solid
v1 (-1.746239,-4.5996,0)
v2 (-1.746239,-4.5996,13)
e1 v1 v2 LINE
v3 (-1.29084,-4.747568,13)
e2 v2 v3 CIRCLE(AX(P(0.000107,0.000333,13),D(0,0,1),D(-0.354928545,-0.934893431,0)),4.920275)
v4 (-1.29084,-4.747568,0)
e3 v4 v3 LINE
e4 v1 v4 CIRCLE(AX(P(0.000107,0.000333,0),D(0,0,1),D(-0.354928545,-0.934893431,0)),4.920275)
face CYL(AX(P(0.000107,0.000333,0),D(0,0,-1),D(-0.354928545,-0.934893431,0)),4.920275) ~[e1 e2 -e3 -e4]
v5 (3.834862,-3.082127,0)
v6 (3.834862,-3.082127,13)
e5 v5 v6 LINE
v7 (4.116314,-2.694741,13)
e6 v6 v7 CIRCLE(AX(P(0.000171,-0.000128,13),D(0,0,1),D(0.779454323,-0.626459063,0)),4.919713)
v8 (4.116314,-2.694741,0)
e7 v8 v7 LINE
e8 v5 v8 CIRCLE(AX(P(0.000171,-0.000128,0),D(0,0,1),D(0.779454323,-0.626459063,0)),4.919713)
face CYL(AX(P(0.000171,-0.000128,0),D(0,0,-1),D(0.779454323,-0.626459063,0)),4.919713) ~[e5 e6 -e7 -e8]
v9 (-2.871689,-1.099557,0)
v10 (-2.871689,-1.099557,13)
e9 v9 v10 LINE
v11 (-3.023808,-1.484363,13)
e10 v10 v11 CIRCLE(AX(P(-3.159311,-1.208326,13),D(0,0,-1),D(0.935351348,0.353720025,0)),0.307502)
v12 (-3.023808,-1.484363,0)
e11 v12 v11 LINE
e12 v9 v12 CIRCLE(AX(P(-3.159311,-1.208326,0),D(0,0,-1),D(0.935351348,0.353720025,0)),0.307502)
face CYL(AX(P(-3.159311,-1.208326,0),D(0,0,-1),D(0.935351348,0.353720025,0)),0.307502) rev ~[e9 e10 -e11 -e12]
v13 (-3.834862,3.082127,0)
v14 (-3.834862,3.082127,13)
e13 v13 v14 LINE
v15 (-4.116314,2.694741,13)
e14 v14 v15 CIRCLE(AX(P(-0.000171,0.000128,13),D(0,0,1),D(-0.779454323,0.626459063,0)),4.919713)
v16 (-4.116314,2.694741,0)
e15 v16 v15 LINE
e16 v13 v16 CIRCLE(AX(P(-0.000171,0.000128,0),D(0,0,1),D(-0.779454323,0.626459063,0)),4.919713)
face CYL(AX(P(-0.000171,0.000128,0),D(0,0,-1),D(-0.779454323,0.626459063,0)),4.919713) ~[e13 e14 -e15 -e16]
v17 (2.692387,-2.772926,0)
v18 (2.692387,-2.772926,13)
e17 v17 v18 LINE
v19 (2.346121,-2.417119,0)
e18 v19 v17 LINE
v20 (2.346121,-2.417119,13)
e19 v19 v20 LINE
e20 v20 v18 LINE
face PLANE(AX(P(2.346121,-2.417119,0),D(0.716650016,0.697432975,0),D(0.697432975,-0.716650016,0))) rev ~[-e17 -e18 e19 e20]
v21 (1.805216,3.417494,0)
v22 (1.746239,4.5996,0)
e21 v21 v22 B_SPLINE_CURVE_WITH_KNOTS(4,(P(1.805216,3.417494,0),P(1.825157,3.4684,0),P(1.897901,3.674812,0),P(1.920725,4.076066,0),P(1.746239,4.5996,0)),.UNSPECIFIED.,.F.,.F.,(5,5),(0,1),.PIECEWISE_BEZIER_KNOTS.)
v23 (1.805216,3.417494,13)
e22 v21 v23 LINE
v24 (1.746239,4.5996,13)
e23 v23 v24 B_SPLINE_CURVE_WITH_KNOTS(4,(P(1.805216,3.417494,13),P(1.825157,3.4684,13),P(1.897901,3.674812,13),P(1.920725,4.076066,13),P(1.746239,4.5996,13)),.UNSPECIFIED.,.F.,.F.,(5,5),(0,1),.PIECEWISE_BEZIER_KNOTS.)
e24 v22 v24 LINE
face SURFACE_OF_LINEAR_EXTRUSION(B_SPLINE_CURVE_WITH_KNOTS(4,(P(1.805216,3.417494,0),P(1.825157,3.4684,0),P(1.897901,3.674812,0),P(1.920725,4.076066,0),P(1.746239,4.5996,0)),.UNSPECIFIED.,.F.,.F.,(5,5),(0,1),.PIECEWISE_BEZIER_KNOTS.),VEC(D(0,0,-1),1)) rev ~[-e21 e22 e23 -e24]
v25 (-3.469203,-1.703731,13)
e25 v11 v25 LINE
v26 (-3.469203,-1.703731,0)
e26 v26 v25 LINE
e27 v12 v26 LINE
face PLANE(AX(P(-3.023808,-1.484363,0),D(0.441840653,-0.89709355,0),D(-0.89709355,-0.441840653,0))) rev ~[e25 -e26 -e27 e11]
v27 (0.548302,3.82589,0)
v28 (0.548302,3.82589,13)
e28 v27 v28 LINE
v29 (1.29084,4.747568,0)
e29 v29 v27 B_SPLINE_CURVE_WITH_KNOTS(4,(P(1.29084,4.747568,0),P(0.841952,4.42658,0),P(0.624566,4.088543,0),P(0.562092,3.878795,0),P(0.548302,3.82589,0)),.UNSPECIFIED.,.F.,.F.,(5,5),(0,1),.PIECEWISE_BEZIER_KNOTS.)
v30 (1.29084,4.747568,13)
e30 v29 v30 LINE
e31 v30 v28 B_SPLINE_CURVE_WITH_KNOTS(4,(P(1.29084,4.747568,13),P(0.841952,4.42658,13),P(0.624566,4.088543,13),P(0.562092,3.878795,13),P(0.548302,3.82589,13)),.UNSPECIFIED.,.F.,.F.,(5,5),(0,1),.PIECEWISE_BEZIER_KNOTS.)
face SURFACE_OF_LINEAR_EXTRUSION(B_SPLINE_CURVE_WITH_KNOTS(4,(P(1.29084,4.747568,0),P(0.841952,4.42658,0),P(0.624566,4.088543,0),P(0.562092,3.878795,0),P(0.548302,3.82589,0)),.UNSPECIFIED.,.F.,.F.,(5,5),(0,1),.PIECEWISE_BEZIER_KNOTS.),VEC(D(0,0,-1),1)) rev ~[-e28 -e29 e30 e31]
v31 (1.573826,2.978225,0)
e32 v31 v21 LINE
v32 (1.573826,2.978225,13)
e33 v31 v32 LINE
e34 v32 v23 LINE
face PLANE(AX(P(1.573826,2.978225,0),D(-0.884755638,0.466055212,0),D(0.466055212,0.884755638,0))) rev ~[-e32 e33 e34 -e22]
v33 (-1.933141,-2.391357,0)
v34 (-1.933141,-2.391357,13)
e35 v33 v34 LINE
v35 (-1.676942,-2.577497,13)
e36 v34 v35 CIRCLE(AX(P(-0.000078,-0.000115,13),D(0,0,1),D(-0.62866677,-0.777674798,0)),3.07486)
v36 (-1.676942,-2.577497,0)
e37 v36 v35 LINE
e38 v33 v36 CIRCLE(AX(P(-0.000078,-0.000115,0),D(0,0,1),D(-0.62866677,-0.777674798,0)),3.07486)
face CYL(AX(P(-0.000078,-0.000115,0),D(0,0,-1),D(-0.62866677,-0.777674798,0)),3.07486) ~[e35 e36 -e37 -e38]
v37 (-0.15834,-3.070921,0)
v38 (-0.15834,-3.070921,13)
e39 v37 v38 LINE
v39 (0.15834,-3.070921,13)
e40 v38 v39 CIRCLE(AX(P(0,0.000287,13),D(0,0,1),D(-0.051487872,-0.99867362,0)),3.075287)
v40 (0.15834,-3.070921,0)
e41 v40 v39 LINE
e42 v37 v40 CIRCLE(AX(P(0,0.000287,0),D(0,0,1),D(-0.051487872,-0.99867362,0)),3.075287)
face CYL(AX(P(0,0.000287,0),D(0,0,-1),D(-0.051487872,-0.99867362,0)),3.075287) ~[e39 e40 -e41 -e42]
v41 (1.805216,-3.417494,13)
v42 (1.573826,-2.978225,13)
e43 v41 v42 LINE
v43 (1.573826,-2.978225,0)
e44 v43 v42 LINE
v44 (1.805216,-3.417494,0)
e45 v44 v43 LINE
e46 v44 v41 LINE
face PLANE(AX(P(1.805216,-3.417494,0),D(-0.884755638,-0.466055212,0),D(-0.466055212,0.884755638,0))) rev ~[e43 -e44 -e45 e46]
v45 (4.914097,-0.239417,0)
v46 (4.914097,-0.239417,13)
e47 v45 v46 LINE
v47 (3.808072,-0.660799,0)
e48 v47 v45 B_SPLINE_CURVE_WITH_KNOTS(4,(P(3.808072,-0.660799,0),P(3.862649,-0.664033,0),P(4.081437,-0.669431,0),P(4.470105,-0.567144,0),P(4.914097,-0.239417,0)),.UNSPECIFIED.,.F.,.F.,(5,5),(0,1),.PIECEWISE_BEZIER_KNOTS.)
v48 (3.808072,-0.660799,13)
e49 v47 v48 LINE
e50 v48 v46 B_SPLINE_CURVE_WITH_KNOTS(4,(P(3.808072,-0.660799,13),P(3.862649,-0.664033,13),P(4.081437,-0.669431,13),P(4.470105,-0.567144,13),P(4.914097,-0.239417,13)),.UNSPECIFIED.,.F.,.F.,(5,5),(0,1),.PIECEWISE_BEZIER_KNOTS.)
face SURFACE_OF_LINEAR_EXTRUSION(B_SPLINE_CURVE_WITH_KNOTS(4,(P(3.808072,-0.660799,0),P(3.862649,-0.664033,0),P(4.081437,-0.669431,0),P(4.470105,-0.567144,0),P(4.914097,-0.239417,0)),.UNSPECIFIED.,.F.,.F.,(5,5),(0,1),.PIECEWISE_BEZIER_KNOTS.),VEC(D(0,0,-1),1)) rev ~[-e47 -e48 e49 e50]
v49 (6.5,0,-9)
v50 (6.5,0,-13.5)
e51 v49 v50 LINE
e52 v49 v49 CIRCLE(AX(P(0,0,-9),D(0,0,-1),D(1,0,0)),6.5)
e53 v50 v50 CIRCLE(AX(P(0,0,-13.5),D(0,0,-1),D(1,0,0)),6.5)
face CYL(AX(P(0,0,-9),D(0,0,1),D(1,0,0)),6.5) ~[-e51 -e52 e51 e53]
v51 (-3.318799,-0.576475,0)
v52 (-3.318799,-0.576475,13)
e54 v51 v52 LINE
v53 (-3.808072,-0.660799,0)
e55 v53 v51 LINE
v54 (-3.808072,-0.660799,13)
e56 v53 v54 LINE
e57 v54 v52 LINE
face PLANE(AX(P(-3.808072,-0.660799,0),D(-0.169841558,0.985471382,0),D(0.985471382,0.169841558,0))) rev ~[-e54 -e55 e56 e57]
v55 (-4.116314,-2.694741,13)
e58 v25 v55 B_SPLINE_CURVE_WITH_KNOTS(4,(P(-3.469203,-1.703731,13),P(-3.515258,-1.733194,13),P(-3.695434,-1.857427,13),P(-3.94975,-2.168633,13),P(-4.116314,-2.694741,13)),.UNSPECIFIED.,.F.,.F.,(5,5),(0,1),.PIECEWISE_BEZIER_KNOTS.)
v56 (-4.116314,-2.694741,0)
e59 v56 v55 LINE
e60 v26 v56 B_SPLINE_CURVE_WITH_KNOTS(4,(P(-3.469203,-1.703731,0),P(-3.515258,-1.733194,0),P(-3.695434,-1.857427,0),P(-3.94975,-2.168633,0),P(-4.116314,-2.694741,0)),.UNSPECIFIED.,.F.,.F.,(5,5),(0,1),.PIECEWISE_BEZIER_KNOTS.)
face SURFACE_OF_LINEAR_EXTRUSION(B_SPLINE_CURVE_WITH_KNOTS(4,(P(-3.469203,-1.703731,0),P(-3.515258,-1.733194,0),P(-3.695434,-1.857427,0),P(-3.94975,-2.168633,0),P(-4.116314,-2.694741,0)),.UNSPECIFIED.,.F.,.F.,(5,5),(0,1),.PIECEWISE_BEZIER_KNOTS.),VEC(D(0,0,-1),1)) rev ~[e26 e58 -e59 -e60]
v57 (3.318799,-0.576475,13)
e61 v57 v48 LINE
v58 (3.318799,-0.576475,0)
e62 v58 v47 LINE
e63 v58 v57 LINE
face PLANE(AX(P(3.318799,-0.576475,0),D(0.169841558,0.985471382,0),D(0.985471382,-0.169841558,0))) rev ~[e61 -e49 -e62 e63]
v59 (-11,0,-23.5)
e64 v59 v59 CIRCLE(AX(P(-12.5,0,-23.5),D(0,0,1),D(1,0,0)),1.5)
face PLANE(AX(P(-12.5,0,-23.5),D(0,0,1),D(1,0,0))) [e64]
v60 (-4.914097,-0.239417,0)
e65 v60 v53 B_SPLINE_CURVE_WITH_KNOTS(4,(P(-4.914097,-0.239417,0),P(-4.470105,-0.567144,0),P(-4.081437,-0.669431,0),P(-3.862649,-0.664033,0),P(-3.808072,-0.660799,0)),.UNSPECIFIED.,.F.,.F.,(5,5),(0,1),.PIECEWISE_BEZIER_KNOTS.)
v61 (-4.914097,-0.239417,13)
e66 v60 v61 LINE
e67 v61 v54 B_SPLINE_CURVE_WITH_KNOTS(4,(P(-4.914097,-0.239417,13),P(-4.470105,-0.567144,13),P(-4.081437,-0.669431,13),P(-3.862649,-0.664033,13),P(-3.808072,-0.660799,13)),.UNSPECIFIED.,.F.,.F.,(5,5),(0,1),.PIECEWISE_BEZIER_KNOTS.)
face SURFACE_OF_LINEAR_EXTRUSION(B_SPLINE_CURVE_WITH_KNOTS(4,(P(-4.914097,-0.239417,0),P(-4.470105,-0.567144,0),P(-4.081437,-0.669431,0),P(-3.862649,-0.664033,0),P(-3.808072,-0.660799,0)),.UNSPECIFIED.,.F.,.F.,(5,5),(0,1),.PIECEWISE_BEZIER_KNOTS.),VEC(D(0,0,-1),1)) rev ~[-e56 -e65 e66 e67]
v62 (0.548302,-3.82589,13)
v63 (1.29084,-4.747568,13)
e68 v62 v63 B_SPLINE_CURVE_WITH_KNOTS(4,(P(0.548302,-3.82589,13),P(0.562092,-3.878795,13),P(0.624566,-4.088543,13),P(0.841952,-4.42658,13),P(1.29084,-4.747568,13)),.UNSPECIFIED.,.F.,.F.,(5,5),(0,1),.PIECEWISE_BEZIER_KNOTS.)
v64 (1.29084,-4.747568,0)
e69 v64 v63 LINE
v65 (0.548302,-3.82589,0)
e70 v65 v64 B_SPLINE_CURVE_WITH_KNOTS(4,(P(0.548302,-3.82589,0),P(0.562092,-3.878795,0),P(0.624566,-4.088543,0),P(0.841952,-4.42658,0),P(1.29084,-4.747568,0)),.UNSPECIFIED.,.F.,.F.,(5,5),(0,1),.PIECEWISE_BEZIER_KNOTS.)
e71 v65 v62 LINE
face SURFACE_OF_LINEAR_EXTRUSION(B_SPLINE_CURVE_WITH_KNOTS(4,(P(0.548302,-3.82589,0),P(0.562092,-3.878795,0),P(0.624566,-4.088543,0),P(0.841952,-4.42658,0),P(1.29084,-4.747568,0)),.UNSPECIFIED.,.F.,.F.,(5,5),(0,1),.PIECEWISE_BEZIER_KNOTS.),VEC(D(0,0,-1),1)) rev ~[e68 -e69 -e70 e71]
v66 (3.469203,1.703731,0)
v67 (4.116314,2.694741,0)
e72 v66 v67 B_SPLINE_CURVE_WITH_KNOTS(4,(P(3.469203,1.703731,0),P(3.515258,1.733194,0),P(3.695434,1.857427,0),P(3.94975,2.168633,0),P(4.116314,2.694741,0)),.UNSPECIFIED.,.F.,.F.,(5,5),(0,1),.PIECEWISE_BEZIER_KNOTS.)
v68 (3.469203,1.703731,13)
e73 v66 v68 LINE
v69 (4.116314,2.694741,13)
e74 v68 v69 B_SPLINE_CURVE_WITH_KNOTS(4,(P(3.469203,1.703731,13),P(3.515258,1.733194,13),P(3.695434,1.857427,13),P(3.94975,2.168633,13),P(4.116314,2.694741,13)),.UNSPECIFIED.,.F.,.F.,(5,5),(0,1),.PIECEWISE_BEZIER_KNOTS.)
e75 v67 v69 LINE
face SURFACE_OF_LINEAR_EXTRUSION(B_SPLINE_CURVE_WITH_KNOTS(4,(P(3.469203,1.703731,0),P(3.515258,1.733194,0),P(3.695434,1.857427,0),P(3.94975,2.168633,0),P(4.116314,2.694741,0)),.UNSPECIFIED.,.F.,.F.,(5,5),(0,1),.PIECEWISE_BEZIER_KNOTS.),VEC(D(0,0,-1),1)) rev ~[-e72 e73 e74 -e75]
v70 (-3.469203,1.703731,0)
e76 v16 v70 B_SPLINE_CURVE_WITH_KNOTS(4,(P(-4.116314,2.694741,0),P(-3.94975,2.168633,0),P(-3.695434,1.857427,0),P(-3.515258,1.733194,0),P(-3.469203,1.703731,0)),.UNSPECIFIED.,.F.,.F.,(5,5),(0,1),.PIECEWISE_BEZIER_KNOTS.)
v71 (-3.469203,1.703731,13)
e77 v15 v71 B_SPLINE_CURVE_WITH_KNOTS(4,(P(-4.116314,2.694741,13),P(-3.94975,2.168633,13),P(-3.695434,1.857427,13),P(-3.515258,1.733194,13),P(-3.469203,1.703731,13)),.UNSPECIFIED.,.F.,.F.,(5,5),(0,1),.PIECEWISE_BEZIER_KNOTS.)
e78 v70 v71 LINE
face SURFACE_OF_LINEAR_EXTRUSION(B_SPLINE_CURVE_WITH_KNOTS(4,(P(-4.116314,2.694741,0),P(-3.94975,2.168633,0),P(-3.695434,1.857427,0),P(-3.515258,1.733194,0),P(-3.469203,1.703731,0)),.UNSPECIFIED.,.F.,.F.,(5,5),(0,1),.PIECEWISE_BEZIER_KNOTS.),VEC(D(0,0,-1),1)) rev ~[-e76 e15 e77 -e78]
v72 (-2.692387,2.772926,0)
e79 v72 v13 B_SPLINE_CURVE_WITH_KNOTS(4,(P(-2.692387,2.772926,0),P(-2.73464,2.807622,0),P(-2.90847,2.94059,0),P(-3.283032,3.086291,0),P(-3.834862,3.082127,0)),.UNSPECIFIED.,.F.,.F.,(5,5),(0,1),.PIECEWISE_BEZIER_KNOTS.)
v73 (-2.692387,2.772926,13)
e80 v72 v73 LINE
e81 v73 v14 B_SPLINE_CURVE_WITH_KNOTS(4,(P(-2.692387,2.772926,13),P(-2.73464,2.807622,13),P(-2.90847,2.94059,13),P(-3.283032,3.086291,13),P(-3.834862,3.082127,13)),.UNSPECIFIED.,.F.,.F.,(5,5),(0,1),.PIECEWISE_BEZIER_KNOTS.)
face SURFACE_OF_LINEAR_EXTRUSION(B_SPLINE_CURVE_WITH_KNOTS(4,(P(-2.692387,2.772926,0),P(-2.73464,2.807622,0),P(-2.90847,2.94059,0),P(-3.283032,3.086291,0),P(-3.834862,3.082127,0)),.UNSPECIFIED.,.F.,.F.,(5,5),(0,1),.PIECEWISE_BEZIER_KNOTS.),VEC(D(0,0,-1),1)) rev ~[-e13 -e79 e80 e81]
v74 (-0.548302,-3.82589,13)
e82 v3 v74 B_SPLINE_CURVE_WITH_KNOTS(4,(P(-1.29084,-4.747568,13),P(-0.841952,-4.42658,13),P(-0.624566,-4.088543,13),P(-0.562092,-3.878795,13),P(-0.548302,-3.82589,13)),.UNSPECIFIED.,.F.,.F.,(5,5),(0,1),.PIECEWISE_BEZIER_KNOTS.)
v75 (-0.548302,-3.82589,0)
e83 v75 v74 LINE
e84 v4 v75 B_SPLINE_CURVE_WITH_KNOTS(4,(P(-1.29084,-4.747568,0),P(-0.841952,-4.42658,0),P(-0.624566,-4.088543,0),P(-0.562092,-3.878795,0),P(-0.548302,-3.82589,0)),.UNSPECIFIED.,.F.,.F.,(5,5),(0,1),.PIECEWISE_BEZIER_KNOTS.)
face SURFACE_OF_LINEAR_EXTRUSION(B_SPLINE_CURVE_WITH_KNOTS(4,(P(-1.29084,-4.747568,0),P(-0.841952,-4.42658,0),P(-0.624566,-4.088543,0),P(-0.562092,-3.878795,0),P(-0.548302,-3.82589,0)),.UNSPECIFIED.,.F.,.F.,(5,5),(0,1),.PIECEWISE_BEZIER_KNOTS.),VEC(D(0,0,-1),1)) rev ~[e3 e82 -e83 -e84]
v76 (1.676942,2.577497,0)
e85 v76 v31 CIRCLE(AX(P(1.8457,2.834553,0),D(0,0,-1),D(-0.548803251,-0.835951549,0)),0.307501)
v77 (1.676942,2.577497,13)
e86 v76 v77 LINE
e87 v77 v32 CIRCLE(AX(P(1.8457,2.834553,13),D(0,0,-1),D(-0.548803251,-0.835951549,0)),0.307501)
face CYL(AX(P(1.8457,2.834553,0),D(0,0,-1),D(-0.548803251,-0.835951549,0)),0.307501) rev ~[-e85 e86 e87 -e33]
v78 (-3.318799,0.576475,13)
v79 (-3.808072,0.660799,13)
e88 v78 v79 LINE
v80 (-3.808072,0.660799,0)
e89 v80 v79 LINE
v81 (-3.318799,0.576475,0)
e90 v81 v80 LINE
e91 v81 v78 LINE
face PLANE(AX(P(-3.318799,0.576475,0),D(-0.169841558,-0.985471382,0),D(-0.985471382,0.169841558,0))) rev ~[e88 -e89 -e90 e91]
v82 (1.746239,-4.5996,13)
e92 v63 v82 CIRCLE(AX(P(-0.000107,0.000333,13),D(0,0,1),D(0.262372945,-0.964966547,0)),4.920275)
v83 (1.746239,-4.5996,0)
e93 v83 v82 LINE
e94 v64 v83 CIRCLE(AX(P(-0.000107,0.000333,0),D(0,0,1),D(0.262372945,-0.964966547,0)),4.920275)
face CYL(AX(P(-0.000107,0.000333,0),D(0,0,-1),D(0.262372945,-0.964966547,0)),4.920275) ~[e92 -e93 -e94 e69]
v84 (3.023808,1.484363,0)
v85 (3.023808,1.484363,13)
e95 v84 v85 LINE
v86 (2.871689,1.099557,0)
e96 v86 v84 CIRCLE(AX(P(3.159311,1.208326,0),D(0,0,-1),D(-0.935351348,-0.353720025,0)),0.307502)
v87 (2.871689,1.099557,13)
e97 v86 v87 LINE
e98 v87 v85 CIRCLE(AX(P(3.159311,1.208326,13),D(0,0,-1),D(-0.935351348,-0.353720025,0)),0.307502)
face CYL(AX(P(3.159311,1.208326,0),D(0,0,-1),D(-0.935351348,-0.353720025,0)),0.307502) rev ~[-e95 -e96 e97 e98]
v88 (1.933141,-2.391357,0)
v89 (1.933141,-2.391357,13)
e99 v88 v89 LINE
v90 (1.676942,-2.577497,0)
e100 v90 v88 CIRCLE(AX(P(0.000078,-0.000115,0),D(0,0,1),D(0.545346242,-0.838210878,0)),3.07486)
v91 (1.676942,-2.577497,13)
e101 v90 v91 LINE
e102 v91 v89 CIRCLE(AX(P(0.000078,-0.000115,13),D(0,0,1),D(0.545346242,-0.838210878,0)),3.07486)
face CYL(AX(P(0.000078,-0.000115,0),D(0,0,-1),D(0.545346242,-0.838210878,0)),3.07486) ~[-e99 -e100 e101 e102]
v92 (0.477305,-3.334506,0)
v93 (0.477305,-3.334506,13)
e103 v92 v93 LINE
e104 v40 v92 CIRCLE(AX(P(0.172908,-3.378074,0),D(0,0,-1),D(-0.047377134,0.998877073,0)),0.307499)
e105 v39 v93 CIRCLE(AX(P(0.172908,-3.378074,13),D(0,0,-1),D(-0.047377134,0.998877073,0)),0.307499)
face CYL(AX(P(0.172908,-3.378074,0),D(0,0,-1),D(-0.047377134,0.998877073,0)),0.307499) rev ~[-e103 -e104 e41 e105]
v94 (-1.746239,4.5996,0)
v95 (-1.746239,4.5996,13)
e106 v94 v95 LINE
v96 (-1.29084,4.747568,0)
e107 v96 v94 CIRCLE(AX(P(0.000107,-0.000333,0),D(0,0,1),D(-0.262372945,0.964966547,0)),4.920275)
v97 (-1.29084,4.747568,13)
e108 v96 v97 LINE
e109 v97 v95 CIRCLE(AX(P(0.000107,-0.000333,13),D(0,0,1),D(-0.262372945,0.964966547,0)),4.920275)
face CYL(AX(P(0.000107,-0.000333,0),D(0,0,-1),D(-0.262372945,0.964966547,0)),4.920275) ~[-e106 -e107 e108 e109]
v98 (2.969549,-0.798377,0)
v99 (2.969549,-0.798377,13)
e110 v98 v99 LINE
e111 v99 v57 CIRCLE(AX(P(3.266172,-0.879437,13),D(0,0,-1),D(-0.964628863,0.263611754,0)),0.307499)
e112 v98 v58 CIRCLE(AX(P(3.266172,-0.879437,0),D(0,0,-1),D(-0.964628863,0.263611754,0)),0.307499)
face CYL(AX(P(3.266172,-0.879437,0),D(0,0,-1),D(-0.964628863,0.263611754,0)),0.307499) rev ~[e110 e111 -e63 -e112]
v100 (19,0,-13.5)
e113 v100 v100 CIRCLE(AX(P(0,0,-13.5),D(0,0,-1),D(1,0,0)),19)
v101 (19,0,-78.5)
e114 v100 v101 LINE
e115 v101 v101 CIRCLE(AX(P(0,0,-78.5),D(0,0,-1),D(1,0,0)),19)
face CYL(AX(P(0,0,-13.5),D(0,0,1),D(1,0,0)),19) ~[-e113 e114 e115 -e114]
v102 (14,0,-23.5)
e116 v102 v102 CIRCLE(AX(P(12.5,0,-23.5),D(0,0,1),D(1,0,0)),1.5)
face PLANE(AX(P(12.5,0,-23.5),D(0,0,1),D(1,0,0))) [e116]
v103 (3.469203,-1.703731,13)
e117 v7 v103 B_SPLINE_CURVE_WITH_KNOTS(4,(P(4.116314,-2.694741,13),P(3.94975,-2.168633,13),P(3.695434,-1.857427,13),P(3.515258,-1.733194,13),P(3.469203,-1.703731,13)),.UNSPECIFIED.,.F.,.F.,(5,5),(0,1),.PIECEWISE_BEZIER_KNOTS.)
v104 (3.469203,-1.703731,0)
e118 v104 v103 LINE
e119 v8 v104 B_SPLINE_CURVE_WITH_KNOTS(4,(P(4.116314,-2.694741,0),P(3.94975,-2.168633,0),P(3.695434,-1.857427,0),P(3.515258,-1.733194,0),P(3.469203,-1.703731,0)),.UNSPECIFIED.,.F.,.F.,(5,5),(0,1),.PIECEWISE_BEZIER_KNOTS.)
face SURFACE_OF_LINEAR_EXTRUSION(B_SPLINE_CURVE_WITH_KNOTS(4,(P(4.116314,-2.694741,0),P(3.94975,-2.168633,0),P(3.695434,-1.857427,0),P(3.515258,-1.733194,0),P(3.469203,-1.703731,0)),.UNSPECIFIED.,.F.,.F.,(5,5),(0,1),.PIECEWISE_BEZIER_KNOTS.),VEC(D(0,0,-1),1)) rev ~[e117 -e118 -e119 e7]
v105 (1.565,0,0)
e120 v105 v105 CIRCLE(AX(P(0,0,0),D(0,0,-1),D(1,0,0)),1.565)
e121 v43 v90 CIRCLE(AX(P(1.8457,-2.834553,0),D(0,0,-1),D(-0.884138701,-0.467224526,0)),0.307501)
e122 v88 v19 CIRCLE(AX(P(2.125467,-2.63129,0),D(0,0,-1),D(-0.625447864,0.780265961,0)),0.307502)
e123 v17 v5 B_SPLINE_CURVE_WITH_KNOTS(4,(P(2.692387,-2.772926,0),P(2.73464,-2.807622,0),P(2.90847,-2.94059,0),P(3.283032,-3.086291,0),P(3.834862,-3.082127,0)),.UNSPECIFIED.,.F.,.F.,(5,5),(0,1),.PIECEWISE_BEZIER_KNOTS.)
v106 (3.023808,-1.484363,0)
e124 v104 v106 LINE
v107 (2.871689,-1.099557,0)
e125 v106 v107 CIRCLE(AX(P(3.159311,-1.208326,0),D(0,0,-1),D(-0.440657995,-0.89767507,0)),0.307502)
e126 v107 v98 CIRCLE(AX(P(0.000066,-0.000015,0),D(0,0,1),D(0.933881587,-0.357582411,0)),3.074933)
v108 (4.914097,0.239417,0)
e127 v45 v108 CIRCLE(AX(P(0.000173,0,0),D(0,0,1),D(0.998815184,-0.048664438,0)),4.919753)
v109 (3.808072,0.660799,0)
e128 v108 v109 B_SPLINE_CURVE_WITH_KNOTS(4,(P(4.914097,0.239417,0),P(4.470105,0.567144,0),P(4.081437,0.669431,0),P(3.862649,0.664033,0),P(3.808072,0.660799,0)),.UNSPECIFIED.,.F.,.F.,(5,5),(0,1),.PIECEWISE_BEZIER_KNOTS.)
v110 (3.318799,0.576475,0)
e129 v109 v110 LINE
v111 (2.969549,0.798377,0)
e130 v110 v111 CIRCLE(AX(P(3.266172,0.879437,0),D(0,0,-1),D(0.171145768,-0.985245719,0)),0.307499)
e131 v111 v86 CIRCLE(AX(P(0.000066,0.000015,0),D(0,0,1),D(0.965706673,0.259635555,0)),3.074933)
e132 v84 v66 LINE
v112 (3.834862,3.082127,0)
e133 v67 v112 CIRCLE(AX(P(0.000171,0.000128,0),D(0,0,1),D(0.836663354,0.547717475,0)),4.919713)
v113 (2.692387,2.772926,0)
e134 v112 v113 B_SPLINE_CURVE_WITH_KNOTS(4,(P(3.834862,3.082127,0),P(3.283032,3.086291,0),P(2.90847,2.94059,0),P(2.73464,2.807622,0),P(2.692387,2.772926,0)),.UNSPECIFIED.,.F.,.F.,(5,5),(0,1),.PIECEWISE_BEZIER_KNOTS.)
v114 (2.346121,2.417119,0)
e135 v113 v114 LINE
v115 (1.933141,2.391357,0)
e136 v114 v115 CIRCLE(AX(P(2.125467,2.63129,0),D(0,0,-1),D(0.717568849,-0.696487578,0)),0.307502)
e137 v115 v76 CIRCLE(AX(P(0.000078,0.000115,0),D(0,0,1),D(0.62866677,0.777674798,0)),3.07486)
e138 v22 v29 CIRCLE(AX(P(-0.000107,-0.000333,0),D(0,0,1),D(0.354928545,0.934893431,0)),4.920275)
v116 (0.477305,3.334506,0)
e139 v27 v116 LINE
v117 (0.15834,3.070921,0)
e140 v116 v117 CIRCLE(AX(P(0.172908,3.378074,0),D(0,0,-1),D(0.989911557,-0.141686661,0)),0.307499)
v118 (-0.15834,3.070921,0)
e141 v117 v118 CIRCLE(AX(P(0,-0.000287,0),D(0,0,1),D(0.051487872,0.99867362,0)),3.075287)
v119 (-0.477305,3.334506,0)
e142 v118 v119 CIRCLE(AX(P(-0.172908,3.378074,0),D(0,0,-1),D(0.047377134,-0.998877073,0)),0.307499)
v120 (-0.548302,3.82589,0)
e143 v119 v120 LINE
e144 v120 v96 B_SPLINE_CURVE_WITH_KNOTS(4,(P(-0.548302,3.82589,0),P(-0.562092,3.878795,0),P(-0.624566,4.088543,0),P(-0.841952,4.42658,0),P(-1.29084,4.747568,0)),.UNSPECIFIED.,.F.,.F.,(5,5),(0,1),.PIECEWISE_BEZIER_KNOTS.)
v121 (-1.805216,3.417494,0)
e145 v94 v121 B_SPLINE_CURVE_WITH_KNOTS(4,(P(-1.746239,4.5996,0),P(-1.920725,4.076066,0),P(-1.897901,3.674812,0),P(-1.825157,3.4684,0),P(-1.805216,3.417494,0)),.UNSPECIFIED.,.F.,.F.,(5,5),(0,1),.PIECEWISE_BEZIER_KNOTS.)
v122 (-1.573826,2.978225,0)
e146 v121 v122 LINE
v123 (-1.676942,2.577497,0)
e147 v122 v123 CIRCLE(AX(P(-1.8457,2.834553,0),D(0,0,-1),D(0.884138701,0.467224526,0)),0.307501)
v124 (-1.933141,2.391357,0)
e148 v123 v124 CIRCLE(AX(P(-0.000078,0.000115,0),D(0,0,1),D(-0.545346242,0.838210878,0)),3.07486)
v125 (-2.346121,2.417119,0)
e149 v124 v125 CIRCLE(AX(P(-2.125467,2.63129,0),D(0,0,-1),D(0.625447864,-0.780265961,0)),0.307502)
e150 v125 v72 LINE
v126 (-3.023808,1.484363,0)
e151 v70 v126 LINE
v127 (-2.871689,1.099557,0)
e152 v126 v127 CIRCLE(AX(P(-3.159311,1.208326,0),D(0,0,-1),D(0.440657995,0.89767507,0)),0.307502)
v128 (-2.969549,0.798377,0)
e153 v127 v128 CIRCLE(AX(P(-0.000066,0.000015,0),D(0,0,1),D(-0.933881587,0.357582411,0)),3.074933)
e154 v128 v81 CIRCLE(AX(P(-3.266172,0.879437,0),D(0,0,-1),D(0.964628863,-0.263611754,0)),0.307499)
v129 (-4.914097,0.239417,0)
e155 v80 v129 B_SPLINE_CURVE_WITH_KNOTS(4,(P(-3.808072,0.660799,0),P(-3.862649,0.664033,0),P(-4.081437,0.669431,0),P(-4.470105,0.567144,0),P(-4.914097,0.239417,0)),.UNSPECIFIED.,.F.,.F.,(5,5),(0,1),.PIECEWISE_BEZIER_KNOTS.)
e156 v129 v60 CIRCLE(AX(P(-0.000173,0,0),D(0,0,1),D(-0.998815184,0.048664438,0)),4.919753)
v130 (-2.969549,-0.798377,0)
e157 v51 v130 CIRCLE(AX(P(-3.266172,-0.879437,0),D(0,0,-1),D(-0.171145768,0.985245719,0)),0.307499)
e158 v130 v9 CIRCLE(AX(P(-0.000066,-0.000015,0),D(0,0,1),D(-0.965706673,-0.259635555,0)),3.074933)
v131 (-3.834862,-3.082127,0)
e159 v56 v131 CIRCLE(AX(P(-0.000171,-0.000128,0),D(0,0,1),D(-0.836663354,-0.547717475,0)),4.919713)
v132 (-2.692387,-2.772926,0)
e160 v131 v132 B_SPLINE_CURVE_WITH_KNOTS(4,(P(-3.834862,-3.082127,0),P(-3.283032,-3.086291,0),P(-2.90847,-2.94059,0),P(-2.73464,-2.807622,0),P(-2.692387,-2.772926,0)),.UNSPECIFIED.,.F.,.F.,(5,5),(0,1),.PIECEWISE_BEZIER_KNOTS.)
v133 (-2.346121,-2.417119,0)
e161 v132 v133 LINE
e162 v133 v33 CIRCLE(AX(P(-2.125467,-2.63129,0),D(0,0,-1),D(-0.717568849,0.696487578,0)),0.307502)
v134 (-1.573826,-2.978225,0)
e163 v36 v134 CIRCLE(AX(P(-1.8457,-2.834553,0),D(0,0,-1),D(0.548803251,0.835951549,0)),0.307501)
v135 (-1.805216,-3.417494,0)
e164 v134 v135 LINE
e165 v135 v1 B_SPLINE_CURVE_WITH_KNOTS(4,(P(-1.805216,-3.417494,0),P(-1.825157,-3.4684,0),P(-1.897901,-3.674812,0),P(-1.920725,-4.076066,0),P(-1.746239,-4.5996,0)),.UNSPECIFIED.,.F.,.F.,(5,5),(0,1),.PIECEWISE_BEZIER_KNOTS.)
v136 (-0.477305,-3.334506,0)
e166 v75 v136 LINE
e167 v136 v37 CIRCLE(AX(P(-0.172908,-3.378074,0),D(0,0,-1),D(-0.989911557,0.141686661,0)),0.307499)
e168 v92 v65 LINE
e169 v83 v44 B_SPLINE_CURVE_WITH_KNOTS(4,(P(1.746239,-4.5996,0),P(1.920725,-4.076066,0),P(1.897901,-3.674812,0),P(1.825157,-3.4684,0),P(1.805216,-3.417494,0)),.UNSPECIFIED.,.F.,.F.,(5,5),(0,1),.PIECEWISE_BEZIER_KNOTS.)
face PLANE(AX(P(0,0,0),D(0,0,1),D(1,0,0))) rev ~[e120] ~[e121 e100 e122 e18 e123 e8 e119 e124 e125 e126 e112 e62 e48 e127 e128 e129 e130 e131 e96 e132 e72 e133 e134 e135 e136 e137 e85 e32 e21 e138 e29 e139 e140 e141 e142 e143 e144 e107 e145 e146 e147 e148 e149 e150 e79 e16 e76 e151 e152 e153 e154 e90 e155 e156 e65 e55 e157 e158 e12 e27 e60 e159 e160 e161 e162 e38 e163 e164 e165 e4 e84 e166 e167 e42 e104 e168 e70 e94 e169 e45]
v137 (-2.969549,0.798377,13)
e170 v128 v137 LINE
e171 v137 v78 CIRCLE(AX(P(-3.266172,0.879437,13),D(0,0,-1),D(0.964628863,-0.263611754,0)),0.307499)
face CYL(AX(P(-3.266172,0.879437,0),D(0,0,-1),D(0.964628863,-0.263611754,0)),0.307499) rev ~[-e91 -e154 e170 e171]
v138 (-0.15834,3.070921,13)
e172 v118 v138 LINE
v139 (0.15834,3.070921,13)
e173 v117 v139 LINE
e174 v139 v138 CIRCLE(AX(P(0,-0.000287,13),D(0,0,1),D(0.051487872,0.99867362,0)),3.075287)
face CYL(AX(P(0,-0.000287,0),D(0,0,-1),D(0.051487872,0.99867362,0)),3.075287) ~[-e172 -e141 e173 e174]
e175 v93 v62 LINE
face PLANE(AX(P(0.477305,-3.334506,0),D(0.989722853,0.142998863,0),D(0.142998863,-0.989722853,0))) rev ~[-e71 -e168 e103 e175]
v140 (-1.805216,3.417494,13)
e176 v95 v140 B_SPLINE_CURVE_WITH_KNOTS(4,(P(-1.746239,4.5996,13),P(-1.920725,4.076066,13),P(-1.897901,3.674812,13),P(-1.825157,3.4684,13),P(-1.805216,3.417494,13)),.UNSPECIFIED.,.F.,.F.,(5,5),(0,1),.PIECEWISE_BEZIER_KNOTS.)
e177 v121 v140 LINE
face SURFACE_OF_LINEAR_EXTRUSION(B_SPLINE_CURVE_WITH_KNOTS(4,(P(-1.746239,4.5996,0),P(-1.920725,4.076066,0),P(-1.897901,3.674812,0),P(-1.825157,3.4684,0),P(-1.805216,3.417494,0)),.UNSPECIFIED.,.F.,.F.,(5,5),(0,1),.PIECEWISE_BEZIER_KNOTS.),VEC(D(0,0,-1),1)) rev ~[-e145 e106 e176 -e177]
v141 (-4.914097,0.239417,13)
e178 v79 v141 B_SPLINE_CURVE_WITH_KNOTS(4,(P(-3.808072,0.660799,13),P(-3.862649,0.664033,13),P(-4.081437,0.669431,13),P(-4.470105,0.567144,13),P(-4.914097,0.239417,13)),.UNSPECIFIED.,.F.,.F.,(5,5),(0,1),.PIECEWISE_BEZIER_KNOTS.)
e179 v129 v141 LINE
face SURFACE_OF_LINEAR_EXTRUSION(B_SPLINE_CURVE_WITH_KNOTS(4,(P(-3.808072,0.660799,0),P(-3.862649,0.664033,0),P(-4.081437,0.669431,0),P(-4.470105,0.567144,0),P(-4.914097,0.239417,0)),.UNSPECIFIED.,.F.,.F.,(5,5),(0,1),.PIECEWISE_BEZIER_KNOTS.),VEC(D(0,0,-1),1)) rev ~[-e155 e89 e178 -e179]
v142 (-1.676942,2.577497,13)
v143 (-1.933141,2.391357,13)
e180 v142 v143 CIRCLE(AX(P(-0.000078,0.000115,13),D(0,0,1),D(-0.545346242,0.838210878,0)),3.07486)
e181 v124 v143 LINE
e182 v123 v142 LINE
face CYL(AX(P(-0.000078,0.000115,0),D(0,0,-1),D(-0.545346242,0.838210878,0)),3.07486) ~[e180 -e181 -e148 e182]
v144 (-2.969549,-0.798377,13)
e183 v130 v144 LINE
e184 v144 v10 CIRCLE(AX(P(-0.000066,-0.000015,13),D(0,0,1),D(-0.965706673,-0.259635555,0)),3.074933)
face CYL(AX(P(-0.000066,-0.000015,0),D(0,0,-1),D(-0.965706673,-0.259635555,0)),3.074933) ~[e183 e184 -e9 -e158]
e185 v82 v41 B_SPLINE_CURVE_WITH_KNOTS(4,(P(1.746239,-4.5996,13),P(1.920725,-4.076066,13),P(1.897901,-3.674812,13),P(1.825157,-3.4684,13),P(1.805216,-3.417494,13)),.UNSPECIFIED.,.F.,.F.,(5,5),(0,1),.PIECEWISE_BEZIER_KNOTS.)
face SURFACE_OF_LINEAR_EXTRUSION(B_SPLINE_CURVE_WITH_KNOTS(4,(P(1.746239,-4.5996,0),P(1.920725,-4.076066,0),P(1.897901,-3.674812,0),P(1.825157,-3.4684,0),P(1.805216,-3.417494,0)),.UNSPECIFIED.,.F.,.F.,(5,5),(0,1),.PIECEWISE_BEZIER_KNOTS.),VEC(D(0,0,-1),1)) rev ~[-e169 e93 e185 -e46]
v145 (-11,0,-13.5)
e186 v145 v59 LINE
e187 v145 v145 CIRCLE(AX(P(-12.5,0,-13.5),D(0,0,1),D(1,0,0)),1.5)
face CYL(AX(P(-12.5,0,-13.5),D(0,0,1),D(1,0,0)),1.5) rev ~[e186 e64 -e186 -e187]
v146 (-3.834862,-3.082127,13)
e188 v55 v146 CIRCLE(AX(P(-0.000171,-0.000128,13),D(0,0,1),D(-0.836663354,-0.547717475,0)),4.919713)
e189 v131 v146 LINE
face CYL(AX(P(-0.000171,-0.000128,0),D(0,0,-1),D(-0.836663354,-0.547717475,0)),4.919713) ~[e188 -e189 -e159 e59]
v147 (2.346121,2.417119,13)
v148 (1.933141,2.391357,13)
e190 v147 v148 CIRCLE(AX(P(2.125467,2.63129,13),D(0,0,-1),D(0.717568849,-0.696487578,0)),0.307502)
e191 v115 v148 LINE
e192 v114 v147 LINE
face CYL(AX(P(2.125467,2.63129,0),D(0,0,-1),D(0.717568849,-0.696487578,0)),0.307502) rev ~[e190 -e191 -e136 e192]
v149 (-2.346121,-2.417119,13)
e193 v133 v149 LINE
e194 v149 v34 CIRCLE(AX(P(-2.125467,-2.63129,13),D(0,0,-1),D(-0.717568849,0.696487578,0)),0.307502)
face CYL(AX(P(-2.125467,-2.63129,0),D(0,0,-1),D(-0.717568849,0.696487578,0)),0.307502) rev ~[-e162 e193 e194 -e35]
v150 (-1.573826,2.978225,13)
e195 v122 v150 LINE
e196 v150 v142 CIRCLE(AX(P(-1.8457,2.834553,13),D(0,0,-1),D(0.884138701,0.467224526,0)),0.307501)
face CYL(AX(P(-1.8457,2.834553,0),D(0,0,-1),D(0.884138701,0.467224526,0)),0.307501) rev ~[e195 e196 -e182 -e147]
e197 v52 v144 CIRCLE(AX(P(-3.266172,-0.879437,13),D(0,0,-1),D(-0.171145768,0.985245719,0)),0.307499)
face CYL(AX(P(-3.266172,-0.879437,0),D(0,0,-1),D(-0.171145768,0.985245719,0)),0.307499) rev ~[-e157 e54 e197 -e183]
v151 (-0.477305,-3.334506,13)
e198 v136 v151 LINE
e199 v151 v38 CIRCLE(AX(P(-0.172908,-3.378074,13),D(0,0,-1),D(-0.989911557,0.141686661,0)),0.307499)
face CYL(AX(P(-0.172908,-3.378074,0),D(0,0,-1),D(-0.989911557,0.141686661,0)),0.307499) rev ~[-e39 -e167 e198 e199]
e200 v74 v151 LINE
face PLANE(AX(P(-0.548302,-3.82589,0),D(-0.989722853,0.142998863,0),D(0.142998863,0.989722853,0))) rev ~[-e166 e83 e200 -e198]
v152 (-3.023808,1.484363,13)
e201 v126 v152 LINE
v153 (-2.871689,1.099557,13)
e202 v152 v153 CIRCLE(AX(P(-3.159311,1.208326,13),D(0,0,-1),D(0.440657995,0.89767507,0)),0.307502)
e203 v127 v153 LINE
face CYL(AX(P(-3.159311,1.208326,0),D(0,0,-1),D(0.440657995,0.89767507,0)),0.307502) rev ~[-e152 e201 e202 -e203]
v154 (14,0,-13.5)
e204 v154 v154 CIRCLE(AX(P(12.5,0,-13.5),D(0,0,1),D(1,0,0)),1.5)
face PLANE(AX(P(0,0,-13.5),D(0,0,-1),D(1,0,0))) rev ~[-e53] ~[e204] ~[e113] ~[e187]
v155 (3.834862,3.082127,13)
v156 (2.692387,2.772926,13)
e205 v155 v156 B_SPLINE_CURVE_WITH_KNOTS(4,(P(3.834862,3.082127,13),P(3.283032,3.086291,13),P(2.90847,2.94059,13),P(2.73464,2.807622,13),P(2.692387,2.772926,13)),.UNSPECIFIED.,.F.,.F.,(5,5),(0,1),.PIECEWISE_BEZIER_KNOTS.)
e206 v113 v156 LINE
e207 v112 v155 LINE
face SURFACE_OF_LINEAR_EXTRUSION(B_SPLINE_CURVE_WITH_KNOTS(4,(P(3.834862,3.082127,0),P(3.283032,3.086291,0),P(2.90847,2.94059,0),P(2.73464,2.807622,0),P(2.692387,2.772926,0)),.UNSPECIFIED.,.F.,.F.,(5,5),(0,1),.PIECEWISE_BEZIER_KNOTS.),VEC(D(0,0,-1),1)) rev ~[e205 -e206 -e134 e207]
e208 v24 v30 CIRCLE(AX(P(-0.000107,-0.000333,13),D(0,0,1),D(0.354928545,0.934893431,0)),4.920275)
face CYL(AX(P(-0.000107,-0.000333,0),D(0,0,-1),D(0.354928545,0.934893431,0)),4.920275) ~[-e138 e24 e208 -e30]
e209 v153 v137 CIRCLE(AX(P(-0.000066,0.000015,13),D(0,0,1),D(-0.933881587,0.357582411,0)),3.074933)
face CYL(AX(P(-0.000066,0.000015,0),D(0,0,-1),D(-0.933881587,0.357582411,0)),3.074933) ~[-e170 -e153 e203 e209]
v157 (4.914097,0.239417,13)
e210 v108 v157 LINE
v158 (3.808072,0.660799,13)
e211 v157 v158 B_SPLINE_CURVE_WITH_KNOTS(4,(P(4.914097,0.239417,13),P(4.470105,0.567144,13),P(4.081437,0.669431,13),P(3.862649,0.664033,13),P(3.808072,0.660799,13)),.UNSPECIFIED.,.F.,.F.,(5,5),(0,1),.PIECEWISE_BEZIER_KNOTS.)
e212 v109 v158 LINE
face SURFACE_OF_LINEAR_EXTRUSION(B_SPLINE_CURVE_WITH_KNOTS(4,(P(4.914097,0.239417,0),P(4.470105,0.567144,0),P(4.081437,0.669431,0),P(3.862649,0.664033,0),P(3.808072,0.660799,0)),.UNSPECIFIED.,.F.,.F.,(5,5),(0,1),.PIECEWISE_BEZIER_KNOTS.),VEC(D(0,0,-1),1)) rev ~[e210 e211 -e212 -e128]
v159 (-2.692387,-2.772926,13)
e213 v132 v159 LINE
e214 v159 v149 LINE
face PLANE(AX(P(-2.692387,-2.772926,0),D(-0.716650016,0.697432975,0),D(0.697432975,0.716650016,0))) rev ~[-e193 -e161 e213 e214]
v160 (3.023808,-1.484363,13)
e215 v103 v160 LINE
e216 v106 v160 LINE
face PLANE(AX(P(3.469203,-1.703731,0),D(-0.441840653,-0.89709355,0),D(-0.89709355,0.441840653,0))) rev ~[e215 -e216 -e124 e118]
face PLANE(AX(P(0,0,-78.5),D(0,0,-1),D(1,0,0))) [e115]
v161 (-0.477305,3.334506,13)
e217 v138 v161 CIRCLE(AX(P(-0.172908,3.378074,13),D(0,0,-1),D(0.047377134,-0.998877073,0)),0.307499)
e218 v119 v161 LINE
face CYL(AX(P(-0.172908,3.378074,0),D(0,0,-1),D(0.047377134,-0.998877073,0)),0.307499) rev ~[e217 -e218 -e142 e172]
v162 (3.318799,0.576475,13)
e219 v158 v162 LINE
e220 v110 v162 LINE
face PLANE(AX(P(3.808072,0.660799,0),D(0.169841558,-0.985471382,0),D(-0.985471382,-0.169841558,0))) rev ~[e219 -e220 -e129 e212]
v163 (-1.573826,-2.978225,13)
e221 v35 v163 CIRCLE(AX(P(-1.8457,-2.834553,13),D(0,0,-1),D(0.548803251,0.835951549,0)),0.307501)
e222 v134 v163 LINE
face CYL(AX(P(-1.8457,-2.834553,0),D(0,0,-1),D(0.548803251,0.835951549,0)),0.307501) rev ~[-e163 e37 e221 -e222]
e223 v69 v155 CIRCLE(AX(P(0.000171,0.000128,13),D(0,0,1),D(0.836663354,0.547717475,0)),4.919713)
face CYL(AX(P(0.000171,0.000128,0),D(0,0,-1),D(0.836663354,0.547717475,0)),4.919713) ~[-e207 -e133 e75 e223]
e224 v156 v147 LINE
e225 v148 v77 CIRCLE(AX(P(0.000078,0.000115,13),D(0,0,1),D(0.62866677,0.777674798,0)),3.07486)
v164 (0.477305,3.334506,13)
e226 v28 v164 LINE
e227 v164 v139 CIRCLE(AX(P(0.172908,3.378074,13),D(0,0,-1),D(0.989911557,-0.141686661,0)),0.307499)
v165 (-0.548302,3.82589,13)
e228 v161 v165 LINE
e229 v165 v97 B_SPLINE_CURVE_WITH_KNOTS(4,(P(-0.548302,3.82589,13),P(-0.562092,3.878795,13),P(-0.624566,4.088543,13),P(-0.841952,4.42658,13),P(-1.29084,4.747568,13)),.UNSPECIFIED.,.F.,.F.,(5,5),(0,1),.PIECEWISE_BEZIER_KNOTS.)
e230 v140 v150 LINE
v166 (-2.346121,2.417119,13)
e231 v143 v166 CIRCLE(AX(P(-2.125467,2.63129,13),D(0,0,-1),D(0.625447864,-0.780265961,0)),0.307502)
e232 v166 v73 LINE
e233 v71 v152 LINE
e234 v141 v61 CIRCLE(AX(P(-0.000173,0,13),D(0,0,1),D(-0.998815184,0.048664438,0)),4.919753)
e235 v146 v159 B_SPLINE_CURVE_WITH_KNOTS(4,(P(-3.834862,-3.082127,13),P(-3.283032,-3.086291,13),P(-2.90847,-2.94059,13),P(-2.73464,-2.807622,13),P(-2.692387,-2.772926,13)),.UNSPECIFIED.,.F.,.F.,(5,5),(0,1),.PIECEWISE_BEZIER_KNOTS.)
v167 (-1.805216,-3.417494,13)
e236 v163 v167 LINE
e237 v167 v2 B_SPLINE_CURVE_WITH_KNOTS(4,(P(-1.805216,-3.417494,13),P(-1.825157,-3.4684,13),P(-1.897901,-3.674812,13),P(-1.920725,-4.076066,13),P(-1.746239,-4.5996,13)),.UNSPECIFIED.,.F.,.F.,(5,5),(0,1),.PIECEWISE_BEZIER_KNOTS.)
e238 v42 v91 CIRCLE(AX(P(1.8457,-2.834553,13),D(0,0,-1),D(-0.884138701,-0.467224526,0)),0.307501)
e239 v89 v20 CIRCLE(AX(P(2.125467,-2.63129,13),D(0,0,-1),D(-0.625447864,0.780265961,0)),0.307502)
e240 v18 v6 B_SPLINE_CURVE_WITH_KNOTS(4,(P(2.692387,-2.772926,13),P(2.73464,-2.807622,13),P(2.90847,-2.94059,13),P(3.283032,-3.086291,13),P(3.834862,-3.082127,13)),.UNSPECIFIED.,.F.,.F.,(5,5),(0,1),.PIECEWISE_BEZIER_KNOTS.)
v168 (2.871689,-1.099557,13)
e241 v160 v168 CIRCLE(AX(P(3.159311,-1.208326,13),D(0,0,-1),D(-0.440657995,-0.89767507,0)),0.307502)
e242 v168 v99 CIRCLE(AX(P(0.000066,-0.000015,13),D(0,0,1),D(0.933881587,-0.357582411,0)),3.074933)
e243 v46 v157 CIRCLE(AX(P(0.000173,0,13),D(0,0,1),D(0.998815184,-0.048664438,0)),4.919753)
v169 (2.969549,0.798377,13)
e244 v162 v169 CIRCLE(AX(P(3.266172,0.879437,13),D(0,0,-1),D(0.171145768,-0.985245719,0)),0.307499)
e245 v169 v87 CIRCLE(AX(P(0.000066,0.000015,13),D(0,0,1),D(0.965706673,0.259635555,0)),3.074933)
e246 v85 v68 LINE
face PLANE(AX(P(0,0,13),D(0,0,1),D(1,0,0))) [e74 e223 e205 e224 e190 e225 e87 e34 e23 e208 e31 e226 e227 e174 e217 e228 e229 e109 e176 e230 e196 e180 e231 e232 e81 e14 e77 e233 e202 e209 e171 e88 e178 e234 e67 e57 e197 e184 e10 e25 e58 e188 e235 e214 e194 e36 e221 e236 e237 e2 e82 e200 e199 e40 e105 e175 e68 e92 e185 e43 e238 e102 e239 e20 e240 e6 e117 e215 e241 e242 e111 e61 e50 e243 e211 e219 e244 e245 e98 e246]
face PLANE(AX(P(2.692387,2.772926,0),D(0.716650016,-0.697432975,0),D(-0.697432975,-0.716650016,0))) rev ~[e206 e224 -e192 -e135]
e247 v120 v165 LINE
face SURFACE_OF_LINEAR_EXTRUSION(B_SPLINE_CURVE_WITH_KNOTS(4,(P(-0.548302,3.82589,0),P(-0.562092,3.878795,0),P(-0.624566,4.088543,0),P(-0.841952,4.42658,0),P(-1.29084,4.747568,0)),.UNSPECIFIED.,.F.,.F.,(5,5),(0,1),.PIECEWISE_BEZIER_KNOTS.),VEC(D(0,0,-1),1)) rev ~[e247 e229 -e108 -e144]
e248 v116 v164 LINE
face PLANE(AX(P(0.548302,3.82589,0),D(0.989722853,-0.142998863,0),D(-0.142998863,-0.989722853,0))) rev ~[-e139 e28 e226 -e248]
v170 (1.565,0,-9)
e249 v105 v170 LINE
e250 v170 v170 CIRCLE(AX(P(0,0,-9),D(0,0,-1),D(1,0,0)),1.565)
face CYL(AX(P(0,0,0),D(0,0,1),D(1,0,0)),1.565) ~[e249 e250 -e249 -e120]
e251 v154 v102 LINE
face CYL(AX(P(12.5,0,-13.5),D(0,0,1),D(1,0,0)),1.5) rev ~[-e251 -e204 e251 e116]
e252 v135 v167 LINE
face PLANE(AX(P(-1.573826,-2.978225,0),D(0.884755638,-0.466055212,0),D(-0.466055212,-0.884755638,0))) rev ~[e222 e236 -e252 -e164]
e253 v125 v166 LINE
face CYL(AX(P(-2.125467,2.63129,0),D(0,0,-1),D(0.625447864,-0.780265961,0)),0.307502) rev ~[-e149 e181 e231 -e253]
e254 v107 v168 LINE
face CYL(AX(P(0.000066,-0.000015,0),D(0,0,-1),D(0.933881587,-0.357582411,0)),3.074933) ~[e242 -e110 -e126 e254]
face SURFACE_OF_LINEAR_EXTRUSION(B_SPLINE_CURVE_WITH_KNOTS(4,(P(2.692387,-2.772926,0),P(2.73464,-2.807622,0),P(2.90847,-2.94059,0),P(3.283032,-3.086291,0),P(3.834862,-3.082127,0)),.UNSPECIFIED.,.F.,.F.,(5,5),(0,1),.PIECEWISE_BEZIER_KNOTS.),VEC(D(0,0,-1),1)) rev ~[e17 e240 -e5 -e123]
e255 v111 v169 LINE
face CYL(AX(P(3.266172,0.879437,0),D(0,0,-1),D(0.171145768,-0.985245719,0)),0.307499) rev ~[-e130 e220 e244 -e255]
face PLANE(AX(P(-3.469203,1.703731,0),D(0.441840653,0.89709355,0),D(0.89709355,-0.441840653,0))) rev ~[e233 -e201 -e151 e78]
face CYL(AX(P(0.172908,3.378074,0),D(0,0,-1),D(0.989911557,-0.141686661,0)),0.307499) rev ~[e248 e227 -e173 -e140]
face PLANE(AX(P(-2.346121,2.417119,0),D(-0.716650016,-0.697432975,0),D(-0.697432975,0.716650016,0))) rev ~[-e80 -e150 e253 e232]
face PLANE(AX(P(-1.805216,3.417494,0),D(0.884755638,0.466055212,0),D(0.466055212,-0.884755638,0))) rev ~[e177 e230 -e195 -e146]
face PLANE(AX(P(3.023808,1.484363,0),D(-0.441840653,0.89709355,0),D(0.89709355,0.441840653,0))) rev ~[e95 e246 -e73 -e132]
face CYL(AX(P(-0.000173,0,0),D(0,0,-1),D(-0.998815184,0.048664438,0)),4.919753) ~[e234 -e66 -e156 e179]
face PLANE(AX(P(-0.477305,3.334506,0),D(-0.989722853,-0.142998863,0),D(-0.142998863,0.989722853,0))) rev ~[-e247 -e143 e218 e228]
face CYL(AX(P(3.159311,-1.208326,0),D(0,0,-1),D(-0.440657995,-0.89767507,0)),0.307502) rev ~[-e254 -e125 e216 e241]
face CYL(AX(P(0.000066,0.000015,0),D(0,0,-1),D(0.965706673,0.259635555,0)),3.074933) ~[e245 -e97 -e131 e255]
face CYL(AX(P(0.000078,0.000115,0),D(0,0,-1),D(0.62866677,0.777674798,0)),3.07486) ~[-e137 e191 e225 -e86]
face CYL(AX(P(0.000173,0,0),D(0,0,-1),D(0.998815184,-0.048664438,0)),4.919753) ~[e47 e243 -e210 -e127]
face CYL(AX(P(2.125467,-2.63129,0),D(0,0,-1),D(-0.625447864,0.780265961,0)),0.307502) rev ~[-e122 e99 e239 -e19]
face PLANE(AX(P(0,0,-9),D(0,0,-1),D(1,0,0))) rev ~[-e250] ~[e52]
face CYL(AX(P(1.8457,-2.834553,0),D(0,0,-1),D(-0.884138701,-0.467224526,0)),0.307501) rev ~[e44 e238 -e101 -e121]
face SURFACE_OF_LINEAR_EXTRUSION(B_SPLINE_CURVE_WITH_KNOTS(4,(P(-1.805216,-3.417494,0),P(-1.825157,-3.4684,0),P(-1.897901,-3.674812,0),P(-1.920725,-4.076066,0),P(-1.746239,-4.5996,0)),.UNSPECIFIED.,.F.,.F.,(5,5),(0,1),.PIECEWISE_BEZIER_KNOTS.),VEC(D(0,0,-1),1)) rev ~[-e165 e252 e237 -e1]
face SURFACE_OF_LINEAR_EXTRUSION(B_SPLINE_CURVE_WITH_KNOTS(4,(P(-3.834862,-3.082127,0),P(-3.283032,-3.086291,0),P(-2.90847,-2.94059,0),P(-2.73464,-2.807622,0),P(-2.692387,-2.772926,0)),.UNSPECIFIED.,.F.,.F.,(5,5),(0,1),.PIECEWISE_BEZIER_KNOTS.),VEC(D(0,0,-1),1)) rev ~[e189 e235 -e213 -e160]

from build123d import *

# Parameters (mm, degrees)
PAD_DEPTH    = 13
SKETCH_R     = 1.565
PAD001_DEPTH = 9
SKETCH001_R  = 6.5
PAD002_DEPTH = 4.5
SKETCH002_R  = 19
PAD003_DEPTH = 65
SKETCH003_R  = 1.5
POCKET_DEPTH = 10


with BuildPart() as part:
    # InvoluteGear → Pad (new body)
    with BuildSketch(Plane.XY):
        with BuildLine():
            Line((3.318799, -0.576475), (3.808072, -0.660799))
            add(Edge.make_bspline(
                [(3.808072, -0.660799), (3.862649, -0.664033), (4.081437, -0.669431), (4.470105, -0.567144), (4.914097, -0.239417)],
                knots=[0, 0, 0, 0, 0, 1, 1, 1, 1, 1], degree=4))
            ThreePointArc((4.914097, -0.239417), (4.919926, 0), (4.914097, 0.239417))
            add(Edge.make_bspline(
                [(4.914097, 0.239417), (4.470105, 0.567144), (4.081437, 0.669431), (3.862649, 0.664033), (3.808072, 0.660799)],
                knots=[0, 0, 0, 0, 0, 1, 1, 1, 1, 1], degree=4))
            Line((3.808072, 0.660799), (3.318799, 0.576475))
            ThreePointArc((3.318799, 0.576475), (3.101267, 0.619895), (2.969549, 0.798377))
            ThreePointArc((2.969549, 0.798377), (2.924499, 0.950227), (2.871689, 1.099557))
            ThreePointArc((2.871689, 1.099557), (2.873343, 1.321373), (3.023808, 1.484363))
            Line((3.023808, 1.484363), (3.469203, 1.703731))
            add(Edge.make_bspline(
                [(3.469203, 1.703731), (3.515258, 1.733194), (3.695434, 1.857427), (3.94975, 2.168633), (4.116314, 2.694741)],
                knots=[0, 0, 0, 0, 0, 1, 1, 1, 1, 1], degree=4))
            ThreePointArc((4.116314, 2.694741), (3.980304, 2.89186), (3.834862, 3.082127))
            add(Edge.make_bspline(
                [(3.834862, 3.082127), (3.283032, 3.086291), (2.90847, 2.94059), (2.73464, 2.807622), (2.692387, 2.772926)],
                knots=[0, 0, 0, 0, 0, 1, 1, 1, 1, 1], degree=4))
            Line((2.692387, 2.772926), (2.346121, 2.417119))
            ThreePointArc((2.346121, 2.417119), (2.144613, 2.324385), (1.933141, 2.391357))
            ThreePointArc((1.933141, 2.391357), (1.80744, 2.487727), (1.676942, 2.577497))
            ThreePointArc((1.676942, 2.577497), (1.5479, 2.757922), (1.573826, 2.978225))
            Line((1.573826, 2.978225), (1.805216, 3.417494))
            add(Edge.make_bspline(
                [(1.805216, 3.417494), (1.825157, 3.4684), (1.897901, 3.674812), (1.920725, 4.076066), (1.746239, 4.5996)],
                knots=[0, 0, 0, 0, 0, 1, 1, 1, 1, 1], degree=4))
            ThreePointArc((1.746239, 4.5996), (1.520341, 4.679127), (1.29084, 4.747568))
            add(Edge.make_bspline(
                [(1.29084, 4.747568), (0.841952, 4.42658), (0.624566, 4.088543), (0.562092, 3.878795), (0.548302, 3.82589)],
                knots=[0, 0, 0, 0, 0, 1, 1, 1, 1, 1], degree=4))
            Line((0.548302, 3.82589), (0.477305, 3.334506))
            ThreePointArc((0.477305, 3.334506), (0.368789, 3.141038), (0.15834, 3.070921))
            ThreePointArc((0.15834, 3.070921), (0, 3.075), (-0.15834, 3.070921))
            ThreePointArc((-0.15834, 3.070921), (-0.368789, 3.141038), (-0.477305, 3.334506))
            Line((-0.477305, 3.334506), (-0.548302, 3.82589))
            add(Edge.make_bspline(
                [(-0.548302, 3.82589), (-0.562092, 3.878795), (-0.624566, 4.088543), (-0.841952, 4.42658), (-1.29084, 4.747568)],
                knots=[0, 0, 0, 0, 0, 1, 1, 1, 1, 1], degree=4))
            ThreePointArc((-1.29084, 4.747568), (-1.520341, 4.679127), (-1.746239, 4.5996))
            add(Edge.make_bspline(
                [(-1.746239, 4.5996), (-1.920725, 4.076066), (-1.897901, 3.674812), (-1.825157, 3.4684), (-1.805216, 3.417494)],
                knots=[0, 0, 0, 0, 0, 1, 1, 1, 1, 1], degree=4))
            Line((-1.805216, 3.417494), (-1.573826, 2.978225))
            ThreePointArc((-1.573826, 2.978225), (-1.5479, 2.757922), (-1.676942, 2.577497))
            ThreePointArc((-1.676942, 2.577497), (-1.80744, 2.487727), (-1.933141, 2.391357))
            ThreePointArc((-1.933141, 2.391357), (-2.144613, 2.324385), (-2.346121, 2.417119))
            Line((-2.346121, 2.417119), (-2.692387, 2.772926))
            add(Edge.make_bspline(
                [(-2.692387, 2.772926), (-2.73464, 2.807622), (-2.90847, 2.94059), (-3.283032, 3.086291), (-3.834862, 3.082127)],
                knots=[0, 0, 0, 0, 0, 1, 1, 1, 1, 1], degree=4))
            ThreePointArc((-3.834862, 3.082127), (-3.980304, 2.89186), (-4.116314, 2.694741))
            add(Edge.make_bspline(
                [(-4.116314, 2.694741), (-3.94975, 2.168633), (-3.695434, 1.857427), (-3.515258, 1.733194), (-3.469203, 1.703731)],
                knots=[0, 0, 0, 0, 0, 1, 1, 1, 1, 1], degree=4))
            Line((-3.469203, 1.703731), (-3.023808, 1.484363))
            ThreePointArc((-3.023808, 1.484363), (-2.873343, 1.321373), (-2.871689, 1.099557))
            ThreePointArc((-2.871689, 1.099557), (-2.924499, 0.950227), (-2.969549, 0.798377))
            ThreePointArc((-2.969549, 0.798377), (-3.101267, 0.619895), (-3.318799, 0.576475))
            Line((-3.318799, 0.576475), (-3.808072, 0.660799))
            add(Edge.make_bspline(
                [(-3.808072, 0.660799), (-3.862649, 0.664033), (-4.081437, 0.669431), (-4.470105, 0.567144), (-4.914097, 0.239417)],
                knots=[0, 0, 0, 0, 0, 1, 1, 1, 1, 1], degree=4))
            ThreePointArc((-4.914097, 0.239417), (-4.919926, 0), (-4.914097, -0.239417))
            add(Edge.make_bspline(
                [(-4.914097, -0.239417), (-4.470105, -0.567144), (-4.081437, -0.669431), (-3.862649, -0.664033), (-3.808072, -0.660799)],
                knots=[0, 0, 0, 0, 0, 1, 1, 1, 1, 1], degree=4))
            Line((-3.808072, -0.660799), (-3.318799, -0.576475))
            ThreePointArc((-3.318799, -0.576475), (-3.101267, -0.619895), (-2.969549, -0.798377))
            ThreePointArc((-2.969549, -0.798377), (-2.924499, -0.950227), (-2.871689, -1.099557))
            ThreePointArc((-2.871689, -1.099557), (-2.873343, -1.321373), (-3.023808, -1.484363))
            Line((-3.023808, -1.484363), (-3.469203, -1.703731))
            add(Edge.make_bspline(
                [(-3.469203, -1.703731), (-3.515258, -1.733194), (-3.695434, -1.857427), (-3.94975, -2.168633), (-4.116314, -2.694741)],
                knots=[0, 0, 0, 0, 0, 1, 1, 1, 1, 1], degree=4))
            ThreePointArc((-4.116314, -2.694741), (-3.980304, -2.89186), (-3.834862, -3.082127))
            add(Edge.make_bspline(
                [(-3.834862, -3.082127), (-3.283032, -3.086291), (-2.90847, -2.94059), (-2.73464, -2.807622), (-2.692387, -2.772926)],
                knots=[0, 0, 0, 0, 0, 1, 1, 1, 1, 1], degree=4))
            Line((-2.692387, -2.772926), (-2.346121, -2.417119))
            ThreePointArc((-2.346121, -2.417119), (-2.144613, -2.324385), (-1.933141, -2.391357))
            ThreePointArc((-1.933141, -2.391357), (-1.80744, -2.487727), (-1.676942, -2.577497))
            ThreePointArc((-1.676942, -2.577497), (-1.5479, -2.757922), (-1.573826, -2.978225))
            Line((-1.573826, -2.978225), (-1.805216, -3.417494))
            add(Edge.make_bspline(
                [(-1.805216, -3.417494), (-1.825157, -3.4684), (-1.897901, -3.674812), (-1.920725, -4.076066), (-1.746239, -4.5996)],
                knots=[0, 0, 0, 0, 0, 1, 1, 1, 1, 1], degree=4))
            ThreePointArc((-1.746239, -4.5996), (-1.520341, -4.679127), (-1.29084, -4.747568))
            add(Edge.make_bspline(
                [(-1.29084, -4.747568), (-0.841952, -4.42658), (-0.624566, -4.088543), (-0.562092, -3.878795), (-0.548302, -3.82589)],
                knots=[0, 0, 0, 0, 0, 1, 1, 1, 1, 1], degree=4))
            Line((-0.548302, -3.82589), (-0.477305, -3.334506))
            ThreePointArc((-0.477305, -3.334506), (-0.368789, -3.141038), (-0.15834, -3.070921))
            ThreePointArc((-0.15834, -3.070921), (0, -3.075), (0.15834, -3.070921))
            ThreePointArc((0.15834, -3.070921), (0.368789, -3.141038), (0.477305, -3.334506))
            Line((0.477305, -3.334506), (0.548302, -3.82589))
            add(Edge.make_bspline(
                [(0.548302, -3.82589), (0.562092, -3.878795), (0.624566, -4.088543), (0.841952, -4.42658), (1.29084, -4.747568)],
                knots=[0, 0, 0, 0, 0, 1, 1, 1, 1, 1], degree=4))
            ThreePointArc((1.29084, -4.747568), (1.520341, -4.679127), (1.746239, -4.5996))
            add(Edge.make_bspline(
                [(1.746239, -4.5996), (1.920725, -4.076066), (1.897901, -3.674812), (1.825157, -3.4684), (1.805216, -3.417494)],
                knots=[0, 0, 0, 0, 0, 1, 1, 1, 1, 1], degree=4))
            Line((1.805216, -3.417494), (1.573826, -2.978225))
            ThreePointArc((1.573826, -2.978225), (1.5479, -2.757922), (1.676942, -2.577497))
            ThreePointArc((1.676942, -2.577497), (1.80744, -2.487727), (1.933141, -2.391357))
            ThreePointArc((1.933141, -2.391357), (2.144613, -2.324385), (2.346121, -2.417119))
            Line((2.346121, -2.417119), (2.692387, -2.772926))
            add(Edge.make_bspline(
                [(2.692387, -2.772926), (2.73464, -2.807622), (2.90847, -2.94059), (3.283032, -3.086291), (3.834862, -3.082127)],
                knots=[0, 0, 0, 0, 0, 1, 1, 1, 1, 1], degree=4))
            ThreePointArc((3.834862, -3.082127), (3.980304, -2.89186), (4.116314, -2.694741))
            add(Edge.make_bspline(
                [(4.116314, -2.694741), (3.94975, -2.168633), (3.695434, -1.857427), (3.515258, -1.733194), (3.469203, -1.703731)],
                knots=[0, 0, 0, 0, 0, 1, 1, 1, 1, 1], degree=4))
            Line((3.469203, -1.703731), (3.023808, -1.484363))
            ThreePointArc((3.023808, -1.484363), (2.873343, -1.321373), (2.871689, -1.099557))
            ThreePointArc((2.871689, -1.099557), (2.924499, -0.950227), (2.969549, -0.798377))
            ThreePointArc((2.969549, -0.798377), (3.101267, -0.619895), (3.318799, -0.576475))
        make_face()
    extrude(amount=PAD_DEPTH)

    # Sketch (on Face81 of Pad) → Pad001 (join)
    with BuildSketch(Plane(origin=(0, 0, 0), x_dir=(1, 0, 0), z_dir=(0, 0, -1))):
        Circle(SKETCH_R)
    extrude(amount=PAD001_DEPTH)

    # Sketch001 (on Face84 of Pad001) → Pad002 (join)
    with BuildSketch(Plane(origin=(0, 0, -9), x_dir=(1, 0, 0), z_dir=(0, 0, -1))):
        Circle(SKETCH001_R)
    extrude(amount=PAD002_DEPTH)

    # Sketch002 (on Face86 of Pad002) → Pad003 (join)
    with BuildSketch(Plane(origin=(0, 0, -13.5), x_dir=(1, 0, 0), z_dir=(0, 0, -1))):
        Circle(SKETCH002_R)
    extrude(amount=PAD003_DEPTH)

    # Sketch003 (on Face86 of Pad003) → Pocket (cut)
    with BuildSketch(Plane.XY.offset(-13.5)):
        with Locations((12.5, 0)):
            Circle(SKETCH003_R)
        with Locations((-12.5, 0)):
            Circle(SKETCH003_R)
    extrude(amount=-POCKET_DEPTH, mode=Mode.SUBTRACT)


solid = part.part
